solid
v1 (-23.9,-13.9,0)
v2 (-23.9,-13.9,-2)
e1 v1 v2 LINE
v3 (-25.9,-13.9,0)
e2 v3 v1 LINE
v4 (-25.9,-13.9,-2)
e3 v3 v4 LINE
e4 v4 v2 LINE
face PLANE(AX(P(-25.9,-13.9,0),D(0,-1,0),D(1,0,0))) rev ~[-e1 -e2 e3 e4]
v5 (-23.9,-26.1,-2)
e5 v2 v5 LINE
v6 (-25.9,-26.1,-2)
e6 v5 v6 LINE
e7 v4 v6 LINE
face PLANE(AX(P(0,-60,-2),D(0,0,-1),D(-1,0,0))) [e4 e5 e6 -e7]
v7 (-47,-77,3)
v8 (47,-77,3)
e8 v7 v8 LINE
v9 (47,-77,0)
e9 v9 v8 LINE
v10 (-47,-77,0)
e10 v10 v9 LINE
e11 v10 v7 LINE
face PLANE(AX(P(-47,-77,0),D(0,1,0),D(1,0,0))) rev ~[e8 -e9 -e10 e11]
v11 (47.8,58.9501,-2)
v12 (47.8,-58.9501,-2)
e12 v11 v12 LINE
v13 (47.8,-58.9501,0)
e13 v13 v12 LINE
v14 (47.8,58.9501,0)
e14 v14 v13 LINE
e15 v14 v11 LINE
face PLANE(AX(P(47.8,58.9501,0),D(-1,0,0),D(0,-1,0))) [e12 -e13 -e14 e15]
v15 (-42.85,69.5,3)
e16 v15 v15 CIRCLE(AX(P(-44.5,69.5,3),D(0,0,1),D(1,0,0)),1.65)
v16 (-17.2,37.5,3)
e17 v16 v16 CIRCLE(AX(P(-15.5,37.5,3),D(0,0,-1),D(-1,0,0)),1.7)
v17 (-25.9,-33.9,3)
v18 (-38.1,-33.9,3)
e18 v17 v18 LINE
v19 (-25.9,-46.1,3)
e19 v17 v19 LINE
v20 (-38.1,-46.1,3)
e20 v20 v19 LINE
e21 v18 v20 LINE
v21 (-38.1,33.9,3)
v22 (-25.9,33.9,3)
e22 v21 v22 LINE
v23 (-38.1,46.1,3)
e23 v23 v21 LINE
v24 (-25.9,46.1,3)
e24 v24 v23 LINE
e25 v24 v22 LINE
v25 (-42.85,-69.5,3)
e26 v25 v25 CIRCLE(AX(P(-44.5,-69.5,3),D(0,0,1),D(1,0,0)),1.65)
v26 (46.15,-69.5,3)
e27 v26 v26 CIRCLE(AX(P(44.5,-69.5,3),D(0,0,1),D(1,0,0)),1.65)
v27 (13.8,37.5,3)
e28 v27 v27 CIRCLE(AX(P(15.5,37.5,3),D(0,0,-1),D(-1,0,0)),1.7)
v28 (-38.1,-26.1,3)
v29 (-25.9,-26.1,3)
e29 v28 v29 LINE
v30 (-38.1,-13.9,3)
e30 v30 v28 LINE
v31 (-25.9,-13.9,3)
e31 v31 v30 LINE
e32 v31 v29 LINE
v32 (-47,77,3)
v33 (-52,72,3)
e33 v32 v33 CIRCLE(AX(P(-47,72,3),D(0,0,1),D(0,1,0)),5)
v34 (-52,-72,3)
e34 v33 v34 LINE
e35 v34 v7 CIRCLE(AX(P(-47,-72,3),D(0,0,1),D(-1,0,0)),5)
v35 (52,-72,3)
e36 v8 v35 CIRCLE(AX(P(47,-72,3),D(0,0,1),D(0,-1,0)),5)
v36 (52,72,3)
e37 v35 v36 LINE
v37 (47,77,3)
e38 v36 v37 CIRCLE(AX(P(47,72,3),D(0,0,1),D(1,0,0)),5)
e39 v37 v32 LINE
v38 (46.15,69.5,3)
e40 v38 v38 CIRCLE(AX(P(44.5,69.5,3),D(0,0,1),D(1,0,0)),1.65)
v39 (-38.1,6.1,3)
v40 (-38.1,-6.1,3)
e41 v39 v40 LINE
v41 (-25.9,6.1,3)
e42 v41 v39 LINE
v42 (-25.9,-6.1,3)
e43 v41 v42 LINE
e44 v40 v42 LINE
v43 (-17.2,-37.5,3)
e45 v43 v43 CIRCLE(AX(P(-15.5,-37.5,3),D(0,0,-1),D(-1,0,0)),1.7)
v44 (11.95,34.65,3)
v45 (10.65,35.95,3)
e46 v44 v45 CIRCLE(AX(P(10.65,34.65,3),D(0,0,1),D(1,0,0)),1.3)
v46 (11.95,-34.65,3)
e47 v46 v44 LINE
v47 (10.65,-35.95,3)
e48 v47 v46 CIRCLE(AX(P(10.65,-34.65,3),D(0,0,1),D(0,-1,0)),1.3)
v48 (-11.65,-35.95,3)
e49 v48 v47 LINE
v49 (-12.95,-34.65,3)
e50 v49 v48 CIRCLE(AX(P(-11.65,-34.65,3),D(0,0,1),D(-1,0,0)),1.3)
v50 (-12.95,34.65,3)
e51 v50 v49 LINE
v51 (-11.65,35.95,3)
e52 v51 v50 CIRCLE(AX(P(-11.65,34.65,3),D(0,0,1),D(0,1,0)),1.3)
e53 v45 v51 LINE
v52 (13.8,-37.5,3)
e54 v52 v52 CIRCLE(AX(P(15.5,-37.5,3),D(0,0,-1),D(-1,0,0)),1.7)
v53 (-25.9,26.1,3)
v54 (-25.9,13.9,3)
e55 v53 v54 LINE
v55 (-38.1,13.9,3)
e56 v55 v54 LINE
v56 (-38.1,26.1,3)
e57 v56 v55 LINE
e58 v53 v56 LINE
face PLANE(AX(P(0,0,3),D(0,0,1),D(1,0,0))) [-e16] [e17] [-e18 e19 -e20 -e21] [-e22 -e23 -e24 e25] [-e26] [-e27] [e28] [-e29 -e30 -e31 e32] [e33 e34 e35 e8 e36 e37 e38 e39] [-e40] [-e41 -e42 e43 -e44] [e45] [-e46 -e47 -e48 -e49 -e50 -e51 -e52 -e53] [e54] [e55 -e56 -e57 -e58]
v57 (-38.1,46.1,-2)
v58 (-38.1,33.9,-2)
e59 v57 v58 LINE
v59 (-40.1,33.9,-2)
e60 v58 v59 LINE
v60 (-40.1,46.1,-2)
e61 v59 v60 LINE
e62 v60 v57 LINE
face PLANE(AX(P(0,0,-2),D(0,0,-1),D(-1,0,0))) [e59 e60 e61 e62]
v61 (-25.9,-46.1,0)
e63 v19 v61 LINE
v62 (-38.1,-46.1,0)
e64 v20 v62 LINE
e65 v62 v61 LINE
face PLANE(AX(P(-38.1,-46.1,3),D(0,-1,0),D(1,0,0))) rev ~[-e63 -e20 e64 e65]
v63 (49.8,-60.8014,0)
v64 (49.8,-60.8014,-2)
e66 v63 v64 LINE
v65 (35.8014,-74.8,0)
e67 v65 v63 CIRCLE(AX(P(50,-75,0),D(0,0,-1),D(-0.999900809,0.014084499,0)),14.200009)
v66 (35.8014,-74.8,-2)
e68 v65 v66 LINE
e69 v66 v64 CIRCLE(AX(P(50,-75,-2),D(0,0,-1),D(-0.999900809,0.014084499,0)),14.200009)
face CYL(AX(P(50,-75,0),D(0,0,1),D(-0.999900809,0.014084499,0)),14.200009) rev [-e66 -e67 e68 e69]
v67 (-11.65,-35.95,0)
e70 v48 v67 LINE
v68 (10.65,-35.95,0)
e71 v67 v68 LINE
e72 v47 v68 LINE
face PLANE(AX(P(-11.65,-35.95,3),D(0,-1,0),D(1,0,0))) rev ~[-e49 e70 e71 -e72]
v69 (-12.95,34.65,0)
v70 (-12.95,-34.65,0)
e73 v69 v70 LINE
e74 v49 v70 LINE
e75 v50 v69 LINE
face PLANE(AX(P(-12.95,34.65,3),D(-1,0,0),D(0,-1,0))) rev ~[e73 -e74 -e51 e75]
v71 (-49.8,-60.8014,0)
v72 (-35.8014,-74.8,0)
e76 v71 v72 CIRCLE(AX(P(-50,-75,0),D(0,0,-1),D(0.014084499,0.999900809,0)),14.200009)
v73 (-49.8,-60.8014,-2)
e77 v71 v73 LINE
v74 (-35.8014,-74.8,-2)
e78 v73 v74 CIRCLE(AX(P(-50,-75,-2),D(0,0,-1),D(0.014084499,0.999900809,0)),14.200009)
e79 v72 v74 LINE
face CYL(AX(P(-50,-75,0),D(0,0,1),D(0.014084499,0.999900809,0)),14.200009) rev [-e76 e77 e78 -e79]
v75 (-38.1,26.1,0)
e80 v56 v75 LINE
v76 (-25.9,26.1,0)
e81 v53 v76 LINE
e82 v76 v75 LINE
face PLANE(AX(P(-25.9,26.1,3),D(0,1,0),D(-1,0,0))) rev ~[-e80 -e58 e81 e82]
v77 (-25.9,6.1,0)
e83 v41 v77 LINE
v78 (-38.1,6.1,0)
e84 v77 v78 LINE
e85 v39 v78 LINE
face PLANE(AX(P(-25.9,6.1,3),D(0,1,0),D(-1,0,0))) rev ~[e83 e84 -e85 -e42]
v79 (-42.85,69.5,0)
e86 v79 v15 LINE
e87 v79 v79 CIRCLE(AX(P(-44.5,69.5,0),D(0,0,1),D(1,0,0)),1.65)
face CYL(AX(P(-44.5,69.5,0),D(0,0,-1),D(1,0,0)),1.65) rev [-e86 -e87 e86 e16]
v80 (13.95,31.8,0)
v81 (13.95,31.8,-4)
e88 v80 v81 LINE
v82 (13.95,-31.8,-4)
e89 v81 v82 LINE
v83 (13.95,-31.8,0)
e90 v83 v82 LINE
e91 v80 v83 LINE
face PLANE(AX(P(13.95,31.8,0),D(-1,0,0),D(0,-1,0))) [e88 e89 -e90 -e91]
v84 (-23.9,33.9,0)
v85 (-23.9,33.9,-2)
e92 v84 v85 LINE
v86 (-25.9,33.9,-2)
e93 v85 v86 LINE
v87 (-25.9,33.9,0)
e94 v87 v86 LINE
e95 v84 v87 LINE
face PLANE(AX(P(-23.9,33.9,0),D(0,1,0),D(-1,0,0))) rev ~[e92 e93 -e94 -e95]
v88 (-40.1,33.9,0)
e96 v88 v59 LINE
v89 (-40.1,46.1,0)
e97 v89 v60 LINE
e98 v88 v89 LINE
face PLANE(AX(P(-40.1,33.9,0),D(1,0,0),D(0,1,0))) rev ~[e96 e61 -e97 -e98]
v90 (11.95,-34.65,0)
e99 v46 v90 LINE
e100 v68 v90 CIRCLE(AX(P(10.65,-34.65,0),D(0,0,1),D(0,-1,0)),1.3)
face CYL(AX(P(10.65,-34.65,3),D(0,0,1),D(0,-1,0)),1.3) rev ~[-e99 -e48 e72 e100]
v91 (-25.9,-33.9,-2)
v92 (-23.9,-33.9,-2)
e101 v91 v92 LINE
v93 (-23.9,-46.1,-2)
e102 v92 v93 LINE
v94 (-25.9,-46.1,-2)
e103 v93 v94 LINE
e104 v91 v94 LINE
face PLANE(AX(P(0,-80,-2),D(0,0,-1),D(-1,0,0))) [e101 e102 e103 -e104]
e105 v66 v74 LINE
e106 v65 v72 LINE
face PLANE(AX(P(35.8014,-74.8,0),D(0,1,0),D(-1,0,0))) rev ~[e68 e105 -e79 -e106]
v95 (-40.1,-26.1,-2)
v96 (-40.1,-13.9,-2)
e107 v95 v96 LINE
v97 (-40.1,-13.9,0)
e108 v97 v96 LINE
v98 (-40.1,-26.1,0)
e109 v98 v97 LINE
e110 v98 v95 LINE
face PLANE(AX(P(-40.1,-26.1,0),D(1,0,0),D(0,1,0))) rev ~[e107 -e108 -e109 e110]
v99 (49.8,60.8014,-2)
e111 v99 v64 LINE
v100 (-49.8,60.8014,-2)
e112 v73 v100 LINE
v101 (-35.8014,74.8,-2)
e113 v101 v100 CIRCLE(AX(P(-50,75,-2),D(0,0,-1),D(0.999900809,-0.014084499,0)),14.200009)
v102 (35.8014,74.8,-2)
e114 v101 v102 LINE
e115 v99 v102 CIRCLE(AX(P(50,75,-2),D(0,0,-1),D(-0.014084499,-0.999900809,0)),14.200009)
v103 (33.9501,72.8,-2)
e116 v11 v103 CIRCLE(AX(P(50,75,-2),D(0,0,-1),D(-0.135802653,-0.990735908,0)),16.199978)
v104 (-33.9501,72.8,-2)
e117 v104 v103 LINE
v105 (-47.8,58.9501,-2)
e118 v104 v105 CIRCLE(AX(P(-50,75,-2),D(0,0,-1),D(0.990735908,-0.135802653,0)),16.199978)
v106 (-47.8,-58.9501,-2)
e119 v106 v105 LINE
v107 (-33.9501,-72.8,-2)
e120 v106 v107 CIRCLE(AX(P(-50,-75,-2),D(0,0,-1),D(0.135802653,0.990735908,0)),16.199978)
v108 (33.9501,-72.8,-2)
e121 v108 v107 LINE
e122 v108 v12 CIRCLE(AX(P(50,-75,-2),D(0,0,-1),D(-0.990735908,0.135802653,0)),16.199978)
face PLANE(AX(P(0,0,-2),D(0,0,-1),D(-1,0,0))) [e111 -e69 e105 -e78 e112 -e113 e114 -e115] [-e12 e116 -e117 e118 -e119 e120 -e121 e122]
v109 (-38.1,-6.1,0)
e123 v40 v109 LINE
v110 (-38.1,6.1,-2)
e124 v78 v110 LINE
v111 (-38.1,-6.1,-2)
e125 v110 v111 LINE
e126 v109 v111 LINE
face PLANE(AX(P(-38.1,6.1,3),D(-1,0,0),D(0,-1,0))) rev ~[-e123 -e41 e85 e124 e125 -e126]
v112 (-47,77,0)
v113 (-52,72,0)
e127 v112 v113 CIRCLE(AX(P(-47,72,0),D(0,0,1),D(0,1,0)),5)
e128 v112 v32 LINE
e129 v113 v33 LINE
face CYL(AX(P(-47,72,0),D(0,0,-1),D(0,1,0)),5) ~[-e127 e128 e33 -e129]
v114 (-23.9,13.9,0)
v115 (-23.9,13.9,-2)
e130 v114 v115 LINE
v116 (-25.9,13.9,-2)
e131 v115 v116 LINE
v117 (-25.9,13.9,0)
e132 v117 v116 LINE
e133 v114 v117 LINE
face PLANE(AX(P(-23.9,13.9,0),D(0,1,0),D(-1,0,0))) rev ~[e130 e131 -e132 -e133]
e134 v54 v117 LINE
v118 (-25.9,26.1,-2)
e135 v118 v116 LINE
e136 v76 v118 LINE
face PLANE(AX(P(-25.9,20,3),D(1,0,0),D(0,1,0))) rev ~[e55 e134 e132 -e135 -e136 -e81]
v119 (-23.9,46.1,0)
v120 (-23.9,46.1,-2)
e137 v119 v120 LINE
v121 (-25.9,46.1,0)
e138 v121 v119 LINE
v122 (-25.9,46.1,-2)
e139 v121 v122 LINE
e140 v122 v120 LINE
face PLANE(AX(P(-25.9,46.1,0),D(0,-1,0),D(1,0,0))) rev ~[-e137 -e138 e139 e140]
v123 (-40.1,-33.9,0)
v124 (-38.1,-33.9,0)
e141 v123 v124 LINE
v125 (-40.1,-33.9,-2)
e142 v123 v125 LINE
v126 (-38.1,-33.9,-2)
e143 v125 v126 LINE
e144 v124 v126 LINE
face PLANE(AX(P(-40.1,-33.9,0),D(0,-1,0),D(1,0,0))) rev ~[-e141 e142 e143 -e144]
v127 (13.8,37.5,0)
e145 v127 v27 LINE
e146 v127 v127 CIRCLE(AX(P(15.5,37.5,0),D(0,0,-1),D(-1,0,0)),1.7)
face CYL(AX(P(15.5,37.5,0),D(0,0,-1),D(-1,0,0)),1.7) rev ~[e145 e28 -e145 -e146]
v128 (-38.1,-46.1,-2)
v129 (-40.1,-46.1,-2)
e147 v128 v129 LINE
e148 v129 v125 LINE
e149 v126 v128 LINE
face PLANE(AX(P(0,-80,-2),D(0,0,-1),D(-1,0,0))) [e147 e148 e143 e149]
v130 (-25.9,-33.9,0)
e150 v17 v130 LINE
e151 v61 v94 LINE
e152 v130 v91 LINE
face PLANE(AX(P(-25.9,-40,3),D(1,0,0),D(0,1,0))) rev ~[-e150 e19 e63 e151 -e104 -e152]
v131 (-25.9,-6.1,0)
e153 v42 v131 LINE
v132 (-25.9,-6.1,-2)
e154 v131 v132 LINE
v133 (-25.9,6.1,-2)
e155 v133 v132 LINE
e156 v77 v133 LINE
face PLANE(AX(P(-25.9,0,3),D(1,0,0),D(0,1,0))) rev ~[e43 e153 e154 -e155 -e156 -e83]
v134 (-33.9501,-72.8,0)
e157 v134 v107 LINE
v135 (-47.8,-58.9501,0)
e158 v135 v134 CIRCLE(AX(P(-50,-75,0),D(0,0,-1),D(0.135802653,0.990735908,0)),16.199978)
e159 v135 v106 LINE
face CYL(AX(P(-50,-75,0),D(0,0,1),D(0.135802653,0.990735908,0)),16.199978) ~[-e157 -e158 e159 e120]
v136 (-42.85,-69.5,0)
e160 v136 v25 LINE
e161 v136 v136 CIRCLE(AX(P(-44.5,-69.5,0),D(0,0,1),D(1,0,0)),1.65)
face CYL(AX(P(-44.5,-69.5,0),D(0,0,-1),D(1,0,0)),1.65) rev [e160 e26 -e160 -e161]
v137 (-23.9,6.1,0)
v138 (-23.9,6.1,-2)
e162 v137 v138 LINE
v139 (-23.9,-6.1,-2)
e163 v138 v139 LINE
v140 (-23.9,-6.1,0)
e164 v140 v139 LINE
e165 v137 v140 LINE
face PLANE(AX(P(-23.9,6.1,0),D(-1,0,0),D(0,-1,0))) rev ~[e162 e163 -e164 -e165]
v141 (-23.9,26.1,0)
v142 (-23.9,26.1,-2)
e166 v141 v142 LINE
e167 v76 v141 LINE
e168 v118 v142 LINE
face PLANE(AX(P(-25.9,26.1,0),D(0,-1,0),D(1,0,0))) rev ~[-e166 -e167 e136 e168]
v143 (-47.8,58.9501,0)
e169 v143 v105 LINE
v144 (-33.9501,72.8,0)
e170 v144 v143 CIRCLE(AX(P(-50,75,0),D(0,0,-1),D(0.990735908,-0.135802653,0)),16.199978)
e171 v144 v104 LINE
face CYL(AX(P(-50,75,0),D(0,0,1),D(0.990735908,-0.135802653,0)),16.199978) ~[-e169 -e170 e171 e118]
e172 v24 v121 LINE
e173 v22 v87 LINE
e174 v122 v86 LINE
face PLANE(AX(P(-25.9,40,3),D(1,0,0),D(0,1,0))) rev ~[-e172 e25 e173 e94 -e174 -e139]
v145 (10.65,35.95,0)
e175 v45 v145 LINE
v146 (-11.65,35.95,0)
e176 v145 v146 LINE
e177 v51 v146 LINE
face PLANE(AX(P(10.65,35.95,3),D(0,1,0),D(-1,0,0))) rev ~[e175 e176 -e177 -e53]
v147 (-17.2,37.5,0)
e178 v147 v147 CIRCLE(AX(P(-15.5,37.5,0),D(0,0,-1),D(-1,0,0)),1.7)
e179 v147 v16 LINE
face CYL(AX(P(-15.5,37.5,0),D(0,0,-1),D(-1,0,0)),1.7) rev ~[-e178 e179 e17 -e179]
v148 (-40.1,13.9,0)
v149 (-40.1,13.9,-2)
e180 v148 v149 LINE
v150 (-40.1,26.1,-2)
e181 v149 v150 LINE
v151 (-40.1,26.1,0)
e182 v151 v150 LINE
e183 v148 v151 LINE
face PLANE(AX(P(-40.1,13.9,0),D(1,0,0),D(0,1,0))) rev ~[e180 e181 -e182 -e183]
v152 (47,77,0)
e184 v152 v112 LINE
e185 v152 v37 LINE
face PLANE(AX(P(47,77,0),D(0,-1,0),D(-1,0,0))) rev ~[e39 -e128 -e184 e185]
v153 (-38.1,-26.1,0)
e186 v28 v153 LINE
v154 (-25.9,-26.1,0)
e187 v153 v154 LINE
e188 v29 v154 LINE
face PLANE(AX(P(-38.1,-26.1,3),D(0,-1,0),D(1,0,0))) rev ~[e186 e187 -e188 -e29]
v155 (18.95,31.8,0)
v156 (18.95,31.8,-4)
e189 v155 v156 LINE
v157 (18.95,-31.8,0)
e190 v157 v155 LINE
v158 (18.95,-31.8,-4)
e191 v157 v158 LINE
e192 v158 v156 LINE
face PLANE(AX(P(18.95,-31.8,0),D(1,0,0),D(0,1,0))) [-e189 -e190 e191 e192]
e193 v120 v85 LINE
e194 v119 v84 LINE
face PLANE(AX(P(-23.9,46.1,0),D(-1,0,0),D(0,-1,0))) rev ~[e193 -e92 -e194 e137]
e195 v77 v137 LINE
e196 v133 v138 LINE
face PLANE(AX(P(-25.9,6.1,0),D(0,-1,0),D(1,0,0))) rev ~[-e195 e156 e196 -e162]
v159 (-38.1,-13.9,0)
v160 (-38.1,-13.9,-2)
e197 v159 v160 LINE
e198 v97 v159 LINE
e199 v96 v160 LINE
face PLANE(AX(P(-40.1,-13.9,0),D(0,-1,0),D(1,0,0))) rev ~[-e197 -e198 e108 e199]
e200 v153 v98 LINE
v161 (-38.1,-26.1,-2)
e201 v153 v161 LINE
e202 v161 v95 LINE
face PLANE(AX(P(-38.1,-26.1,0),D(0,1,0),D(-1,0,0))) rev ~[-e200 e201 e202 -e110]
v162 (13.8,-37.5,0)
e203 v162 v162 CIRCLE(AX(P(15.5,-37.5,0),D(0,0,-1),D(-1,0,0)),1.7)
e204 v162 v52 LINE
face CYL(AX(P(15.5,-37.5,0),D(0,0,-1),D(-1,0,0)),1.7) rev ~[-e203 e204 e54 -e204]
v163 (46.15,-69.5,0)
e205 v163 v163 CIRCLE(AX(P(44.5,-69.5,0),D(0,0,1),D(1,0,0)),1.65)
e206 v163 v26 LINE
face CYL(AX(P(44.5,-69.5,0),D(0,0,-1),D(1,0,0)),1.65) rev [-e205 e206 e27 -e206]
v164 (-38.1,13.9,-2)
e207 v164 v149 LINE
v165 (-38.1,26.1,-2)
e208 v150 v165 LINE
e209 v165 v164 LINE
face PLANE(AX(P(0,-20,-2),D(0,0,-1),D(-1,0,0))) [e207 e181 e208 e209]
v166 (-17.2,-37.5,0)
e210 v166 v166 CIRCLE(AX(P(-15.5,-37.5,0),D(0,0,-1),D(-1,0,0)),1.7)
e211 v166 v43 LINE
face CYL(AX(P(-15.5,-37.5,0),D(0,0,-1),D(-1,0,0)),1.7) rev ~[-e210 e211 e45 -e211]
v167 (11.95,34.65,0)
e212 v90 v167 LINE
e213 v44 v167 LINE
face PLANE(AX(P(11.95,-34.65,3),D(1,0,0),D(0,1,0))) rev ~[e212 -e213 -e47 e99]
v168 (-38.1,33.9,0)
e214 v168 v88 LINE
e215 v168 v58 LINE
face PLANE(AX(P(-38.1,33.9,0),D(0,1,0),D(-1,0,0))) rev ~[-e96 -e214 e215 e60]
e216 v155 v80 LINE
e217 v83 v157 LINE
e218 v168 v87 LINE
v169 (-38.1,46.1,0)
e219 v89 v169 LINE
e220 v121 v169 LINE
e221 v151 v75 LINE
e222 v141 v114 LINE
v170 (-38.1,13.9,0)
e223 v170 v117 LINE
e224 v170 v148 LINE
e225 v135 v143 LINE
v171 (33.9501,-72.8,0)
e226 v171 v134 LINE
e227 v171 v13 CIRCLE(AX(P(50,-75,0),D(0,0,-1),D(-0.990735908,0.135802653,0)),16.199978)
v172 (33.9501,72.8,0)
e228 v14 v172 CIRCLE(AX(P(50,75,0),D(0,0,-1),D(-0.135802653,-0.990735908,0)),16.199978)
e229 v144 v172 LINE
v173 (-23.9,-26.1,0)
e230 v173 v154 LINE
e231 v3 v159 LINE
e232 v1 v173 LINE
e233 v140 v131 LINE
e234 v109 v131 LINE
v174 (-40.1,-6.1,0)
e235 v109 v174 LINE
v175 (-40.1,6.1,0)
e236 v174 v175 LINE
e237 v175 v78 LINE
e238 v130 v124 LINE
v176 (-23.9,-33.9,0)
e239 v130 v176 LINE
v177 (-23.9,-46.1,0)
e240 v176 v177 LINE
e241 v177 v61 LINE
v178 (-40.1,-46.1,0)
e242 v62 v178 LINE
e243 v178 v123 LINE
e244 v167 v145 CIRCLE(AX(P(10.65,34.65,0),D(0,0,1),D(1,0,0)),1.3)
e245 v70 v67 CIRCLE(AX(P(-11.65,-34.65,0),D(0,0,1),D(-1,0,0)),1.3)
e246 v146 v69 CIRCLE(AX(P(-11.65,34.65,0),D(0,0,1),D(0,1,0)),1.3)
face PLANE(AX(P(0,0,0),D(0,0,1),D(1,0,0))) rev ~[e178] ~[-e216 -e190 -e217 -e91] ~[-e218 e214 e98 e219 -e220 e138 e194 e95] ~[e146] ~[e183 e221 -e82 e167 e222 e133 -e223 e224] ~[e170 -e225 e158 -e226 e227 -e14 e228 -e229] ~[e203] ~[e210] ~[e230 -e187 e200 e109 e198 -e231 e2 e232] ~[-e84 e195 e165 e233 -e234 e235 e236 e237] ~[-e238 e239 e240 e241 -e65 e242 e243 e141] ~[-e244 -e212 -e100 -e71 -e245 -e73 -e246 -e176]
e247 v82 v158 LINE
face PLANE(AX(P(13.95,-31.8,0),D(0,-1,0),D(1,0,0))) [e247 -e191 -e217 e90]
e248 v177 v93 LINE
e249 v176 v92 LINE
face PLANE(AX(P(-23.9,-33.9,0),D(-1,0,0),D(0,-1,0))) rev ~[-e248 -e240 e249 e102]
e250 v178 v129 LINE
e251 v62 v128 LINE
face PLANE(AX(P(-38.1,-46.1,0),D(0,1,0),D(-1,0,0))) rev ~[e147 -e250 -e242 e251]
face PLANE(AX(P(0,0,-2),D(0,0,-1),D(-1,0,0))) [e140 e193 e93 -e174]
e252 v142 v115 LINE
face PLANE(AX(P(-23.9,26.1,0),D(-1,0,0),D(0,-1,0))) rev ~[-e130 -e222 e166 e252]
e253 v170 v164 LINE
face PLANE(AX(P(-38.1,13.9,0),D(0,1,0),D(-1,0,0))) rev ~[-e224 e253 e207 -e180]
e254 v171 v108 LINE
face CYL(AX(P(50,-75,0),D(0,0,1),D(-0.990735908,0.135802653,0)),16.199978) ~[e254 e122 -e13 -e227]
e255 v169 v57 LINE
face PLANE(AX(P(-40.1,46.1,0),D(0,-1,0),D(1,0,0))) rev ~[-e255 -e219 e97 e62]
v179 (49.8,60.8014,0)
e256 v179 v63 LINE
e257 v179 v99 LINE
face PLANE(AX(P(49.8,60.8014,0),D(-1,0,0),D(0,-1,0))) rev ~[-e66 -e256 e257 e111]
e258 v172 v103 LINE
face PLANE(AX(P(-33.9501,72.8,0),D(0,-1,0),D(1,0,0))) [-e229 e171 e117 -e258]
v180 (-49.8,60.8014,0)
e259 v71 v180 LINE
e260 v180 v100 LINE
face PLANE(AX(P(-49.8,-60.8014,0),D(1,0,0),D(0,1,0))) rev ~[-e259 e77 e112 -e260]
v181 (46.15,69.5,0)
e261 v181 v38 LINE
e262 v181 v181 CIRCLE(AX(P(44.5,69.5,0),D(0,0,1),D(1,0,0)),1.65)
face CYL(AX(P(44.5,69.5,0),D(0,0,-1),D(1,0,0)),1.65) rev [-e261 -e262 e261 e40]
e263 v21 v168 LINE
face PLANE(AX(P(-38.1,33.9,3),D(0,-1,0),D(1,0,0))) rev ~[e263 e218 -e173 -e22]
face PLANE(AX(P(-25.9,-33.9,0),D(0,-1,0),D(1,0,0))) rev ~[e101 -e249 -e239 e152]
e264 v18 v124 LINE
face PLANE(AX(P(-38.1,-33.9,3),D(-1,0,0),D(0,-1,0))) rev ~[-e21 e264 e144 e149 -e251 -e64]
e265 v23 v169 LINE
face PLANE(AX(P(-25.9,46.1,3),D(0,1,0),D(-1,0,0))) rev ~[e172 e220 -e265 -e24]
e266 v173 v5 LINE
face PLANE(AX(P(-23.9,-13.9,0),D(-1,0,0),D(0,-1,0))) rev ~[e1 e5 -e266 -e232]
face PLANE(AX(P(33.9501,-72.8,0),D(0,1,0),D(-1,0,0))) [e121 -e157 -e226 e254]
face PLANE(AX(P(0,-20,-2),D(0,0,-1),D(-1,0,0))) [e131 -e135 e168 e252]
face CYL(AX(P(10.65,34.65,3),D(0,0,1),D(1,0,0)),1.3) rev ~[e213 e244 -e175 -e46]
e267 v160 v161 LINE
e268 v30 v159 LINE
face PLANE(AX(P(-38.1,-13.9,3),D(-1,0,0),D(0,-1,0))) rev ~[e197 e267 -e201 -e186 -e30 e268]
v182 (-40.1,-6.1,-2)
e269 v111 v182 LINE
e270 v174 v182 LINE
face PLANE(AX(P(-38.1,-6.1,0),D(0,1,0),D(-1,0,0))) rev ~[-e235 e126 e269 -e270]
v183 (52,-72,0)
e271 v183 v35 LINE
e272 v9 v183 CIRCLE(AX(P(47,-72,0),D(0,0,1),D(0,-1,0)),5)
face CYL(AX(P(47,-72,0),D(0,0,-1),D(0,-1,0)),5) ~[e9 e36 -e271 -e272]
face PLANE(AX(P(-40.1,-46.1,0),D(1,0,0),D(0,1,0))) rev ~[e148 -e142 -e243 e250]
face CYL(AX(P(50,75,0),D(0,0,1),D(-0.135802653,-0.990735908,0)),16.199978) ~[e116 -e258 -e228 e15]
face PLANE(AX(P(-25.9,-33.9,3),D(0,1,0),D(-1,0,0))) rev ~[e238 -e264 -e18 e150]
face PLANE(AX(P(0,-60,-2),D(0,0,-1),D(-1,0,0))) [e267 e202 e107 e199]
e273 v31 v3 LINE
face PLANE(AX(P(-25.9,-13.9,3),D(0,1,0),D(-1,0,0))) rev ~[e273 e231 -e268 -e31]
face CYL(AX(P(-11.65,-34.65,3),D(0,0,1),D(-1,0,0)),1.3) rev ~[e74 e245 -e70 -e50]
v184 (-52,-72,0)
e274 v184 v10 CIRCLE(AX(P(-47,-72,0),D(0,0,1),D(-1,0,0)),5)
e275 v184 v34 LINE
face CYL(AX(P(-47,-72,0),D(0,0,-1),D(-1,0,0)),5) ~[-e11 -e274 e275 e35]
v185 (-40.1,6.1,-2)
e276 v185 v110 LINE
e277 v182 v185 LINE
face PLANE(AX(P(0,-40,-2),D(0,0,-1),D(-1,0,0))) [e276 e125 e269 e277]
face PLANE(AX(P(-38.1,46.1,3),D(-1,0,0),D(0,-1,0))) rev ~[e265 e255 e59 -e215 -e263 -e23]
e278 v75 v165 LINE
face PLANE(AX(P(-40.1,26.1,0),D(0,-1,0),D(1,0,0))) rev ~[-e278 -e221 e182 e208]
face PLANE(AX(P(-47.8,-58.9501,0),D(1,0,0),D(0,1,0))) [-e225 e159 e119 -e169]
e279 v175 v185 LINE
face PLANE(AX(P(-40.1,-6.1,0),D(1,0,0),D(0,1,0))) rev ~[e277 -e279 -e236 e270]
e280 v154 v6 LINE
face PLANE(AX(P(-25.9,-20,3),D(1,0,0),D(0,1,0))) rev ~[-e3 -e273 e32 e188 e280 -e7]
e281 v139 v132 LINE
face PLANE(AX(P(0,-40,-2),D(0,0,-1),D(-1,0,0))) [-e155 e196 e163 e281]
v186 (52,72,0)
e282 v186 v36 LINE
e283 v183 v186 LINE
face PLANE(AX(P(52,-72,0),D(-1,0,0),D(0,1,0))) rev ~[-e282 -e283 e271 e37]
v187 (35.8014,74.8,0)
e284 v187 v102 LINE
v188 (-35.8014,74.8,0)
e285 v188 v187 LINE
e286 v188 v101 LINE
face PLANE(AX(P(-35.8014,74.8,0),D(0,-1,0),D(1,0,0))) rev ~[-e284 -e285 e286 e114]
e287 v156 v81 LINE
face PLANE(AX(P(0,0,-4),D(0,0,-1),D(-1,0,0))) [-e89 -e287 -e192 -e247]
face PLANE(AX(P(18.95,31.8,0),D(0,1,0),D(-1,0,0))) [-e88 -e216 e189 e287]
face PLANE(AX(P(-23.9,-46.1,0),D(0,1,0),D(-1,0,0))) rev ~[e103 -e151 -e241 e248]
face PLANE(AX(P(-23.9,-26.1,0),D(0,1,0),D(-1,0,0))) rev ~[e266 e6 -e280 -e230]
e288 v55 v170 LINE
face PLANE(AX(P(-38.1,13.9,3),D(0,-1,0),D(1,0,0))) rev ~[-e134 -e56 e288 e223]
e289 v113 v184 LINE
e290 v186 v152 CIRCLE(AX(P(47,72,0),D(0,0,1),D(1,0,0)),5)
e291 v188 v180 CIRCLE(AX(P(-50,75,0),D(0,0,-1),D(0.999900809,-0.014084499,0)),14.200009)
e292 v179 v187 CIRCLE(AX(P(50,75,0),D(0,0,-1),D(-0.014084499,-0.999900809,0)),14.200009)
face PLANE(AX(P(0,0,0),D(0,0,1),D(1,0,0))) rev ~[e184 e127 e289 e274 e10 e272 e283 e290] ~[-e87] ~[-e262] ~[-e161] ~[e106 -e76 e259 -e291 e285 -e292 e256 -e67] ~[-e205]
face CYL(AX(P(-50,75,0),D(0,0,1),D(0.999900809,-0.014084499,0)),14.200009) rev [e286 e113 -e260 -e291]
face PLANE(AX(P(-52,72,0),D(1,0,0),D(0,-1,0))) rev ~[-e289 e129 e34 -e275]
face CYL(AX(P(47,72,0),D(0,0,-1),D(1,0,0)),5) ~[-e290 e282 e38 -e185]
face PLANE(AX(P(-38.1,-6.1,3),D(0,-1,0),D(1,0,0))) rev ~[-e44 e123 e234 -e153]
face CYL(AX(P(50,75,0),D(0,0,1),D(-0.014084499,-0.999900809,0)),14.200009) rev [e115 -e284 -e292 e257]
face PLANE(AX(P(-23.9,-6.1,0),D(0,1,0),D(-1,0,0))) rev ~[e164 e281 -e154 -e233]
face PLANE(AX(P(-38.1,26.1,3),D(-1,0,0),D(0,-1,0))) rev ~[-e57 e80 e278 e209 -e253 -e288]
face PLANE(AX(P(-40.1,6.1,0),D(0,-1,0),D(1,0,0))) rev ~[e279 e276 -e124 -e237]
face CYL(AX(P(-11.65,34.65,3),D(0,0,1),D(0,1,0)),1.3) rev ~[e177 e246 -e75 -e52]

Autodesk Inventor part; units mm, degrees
ref_plane "YZ Plane" through (0, 0, 0) normal (1, 0, 0) x (0, 1, 0)
ref_plane "XZ Plane" through (0, 0, 0) normal (0, 1, 0) x (-1, 0, 0)
ref_plane "XY Plane" through (0, 0, 0) normal (0, 0, 1) x (1, 0, 0)
sketch "Sketch2" plane through (0, 0, 0) normal (0, 0, 1) x (1, 0, 0)
  arc A0 (-52, -72) -> (-47, -77) centre (-47, -72) ccw projected
  line L0 (-52, 72) -> (-52, -72) projected
  arc A1 (-47, 77) -> (-52, 72) centre (-47, 72) ccw projected
  line L1 (47, 77) -> (-47, 77) projected
  arc A2 (52, 72) -> (47, 77) centre (47, 72) ccw projected
  line L2 (52, -72) -> (52, 72) projected
  arc A3 (47, -77) -> (52, -72) centre (47, -72) ccw projected
  line L3 (-47, -77) -> (47, -77) projected
  circle A4 centre (44.5, -69.5) radius 1.65 projected
  circle A5 centre (-44.5, -69.5) radius 1.65 projected
  circle A6 centre (-44.5, 69.5) radius 1.65 projected
  circle A7 centre (44.5, 69.5) radius 1.65 projected
  point P0 (0, 0)
extrude "Extrusion2" add sketch "Sketch2" along normal blind 3
sketch "Sketch3" plane through (0, 0, 0) normal (0, 0, -1) x (-1, 0, 0)
  arc A0 (-50, 61) -> (-36, 75) centre (-50, 75) ccw projected
  line L0 (36, 75) -> (-36, 75) projected
  arc A1 (36, 75) -> (50, 61) centre (50, 75) ccw projected
  line L1 (50, -61) -> (50, 61) projected
  line L2 (-50, 61) -> (-50, -61) projected
  arc A2 (-36, -75) -> (-50, -61) centre (-50, -75) ccw projected
  line L3 (-36, -75) -> (36, -75) projected
  arc A3 (50, -61) -> (36, -75) centre (50, -75) ccw projected
  arc A4 (-49.8, 60.8014) -> (-35.8014, 74.8) centre (-50, 75) ccw
  line L4 (-49.8, 60.8014) -> (-49.8, -60.8014)
  arc A5 (-35.8014, -74.8) -> (-49.8, -60.8014) centre (-50, -75) ccw
  line L5 (-35.8014, -74.8) -> (35.8014, -74.8)
  arc A6 (49.8, -60.8014) -> (35.8014, -74.8) centre (50, -75) ccw
  line L6 (49.8, -60.8014) -> (49.8, 60.8014)
  arc A7 (35.8014, 74.8) -> (49.8, 60.8014) centre (50, 75) ccw
  line L7 (35.8014, 74.8) -> (-35.8014, 74.8)
  arc A8 (-47.8, 58.9501) -> (-33.9501, 72.8) centre (-50, 75) ccw
  line L8 (-47.8, 58.9501) -> (-47.8, -58.9501)
  arc A9 (-33.9501, -72.8) -> (-47.8, -58.9501) centre (-50, -75) ccw
  line L9 (-33.9501, -72.8) -> (33.9501, -72.8)
  arc A10 (47.8, -58.9501) -> (33.9501, -72.8) centre (50, -75) ccw
  line L10 (47.8, -58.9501) -> (47.8, 58.9501)
  arc A11 (33.9501, 72.8) -> (47.8, 58.9501) centre (50, 75) ccw
  line L11 (33.9501, 72.8) -> (-33.9501, 72.8)
  point P0 (0, 0)
  dimension "d4" = 0.2
  dimension "d5" = 2
extrude "Extrusion3" add sketch "Sketch3" along normal blind 2 contours A4 L7 A7 L6 A6 L5 A5 L4
sketch "Sketch4" plane through (0, 0, 3) normal (0, 0, 1) x (1, 0, 0)
  line L0 (11.65, 34.65) -> (11.65, -34.65) projected
  arc A0 (11.65, 34.65) -> (10.65, 35.65) centre (10.65, 34.65) ccw projected
  line L1 (-11.65, 35.65) -> (10.65, 35.65) projected
  arc A1 (-11.65, 35.65) -> (-12.65, 34.65) centre (-11.65, 34.65) ccw projected
  line L2 (-12.65, -34.65) -> (-12.65, 34.65) projected
  arc A2 (-12.65, -34.65) -> (-11.65, -35.65) centre (-11.65, -34.65) ccw projected
  line L3 (10.65, -35.65) -> (-11.65, -35.65) projected
  arc A3 (10.65, -35.65) -> (11.65, -34.65) centre (10.65, -34.65) ccw projected
  line L4 (11.95, -34.65) -> (11.95, 34.65)
  arc A4 (11.95, 34.65) -> (10.65, 35.95) centre (10.65, 34.65) ccw
  line L5 (10.65, 35.95) -> (-11.65, 35.95)
  arc A5 (-11.65, 35.95) -> (-12.95, 34.65) centre (-11.65, 34.65) ccw
  line L6 (-12.95, 34.65) -> (-12.95, -34.65)
  arc A6 (-12.95, -34.65) -> (-11.65, -35.95) centre (-11.65, -34.65) ccw
  line L7 (-11.65, -35.95) -> (10.65, -35.95)
  arc A7 (10.65, -35.95) -> (11.95, -34.65) centre (10.65, -34.65) ccw
  point P0 (0, 0)
  dimension "d10" = 0.3
extrude "Extrusion4" cut sketch "Sketch4" against normal up to surface (3 mm away) contours L0 A3 L3 A2 L2 A1 L1 A0 | A7 L7 A6 L6 A5 L5 A4 L4
sketch "Sketch5" plane through (0, 0, 0) normal (0, 0, -1) x (-1, 0, 0)
  circle A0 centre (15.5, 37.5) radius 1.5 projected
  circle A1 centre (-15.5, 37.5) radius 1.5 projected
  circle A2 centre (15.5, -37.5) radius 1.5 projected
  circle A3 centre (-15.5, -37.5) radius 1.5 projected
  circle A4 centre (15.5, -37.5) radius 1.7
  circle A5 centre (15.5, 37.5) radius 1.7
  circle A6 centre (-15.5, 37.5) radius 1.7
  circle A7 centre (-15.5, -37.5) radius 1.7
  point P0 (0, 0)
  dimension "d11" = 0.2
  dimension "d12" = 0.2
  dimension "d13" = 0.2
  dimension "d14" = 0.2
extrude "Extrusion5" cut sketch "Sketch5" against normal up to surface (3 mm away) contours A0 | A1 | A2 | A3 | A4 | A5 | A6 | A7
sketch "Sketch6" plane through (0, 0, 3) normal (0, 0, 1) x (1, 0, 0)
  line L0 (-25.9, 6.1) -> (-38.1, 6.1)
  line L1 (-38.1, 6.1) -> (-38.1, -6.1)
  line L2 (-38.1, -6.1) -> (-25.9, -6.1)
  line L3 (-25.9, -6.1) -> (-25.9, 6.1)
  line L4 (-25.9, 6.1) -> (-38.1, -6.1) construction
  line L5 (-38.1, 6.1) -> (-25.9, -6.1) construction
  line L6 (-52, 72) -> (-52, -72) projected
  line L7 (47, 77) -> (-47, 77) projected
  line L8 (52, -72) -> (52, 72) projected
  line L9 (52, 0) -> (-52, 0)
  point P0 (0, 0)
  point P1 (-32, 0)
  dimension "d17" = 12.2
  dimension "d18" = 12.2
  dimension "d19" = 20
extrude "Extrusion6" cut sketch "Sketch6" against normal up to surface (3 mm away)
pattern_linear "Rectangular Pattern1" count 3 spacing 20 along (0, -1, 0) count 3 spacing 20 along (0, 1, 0) of "Extrusion6"
sketch "Sketch9" plane through (0, 0, 0) normal (0, 0, -1) x (-1, 0, 0)
  line L0 (-13.95, -31.8) -> (-18.95, -31.8)
  line L1 (-18.95, -31.8) -> (-18.95, 31.8)
  line L2 (-18.95, 31.8) -> (-13.95, 31.8)
  line L3 (-13.95, 31.8) -> (-13.95, -31.8)
  circle A0 centre (-15.5, -37.5) radius 1.7 projected
  circle A1 centre (-15.5, 37.5) radius 1.7 projected
  line L4 (-11.95, -34.65) -> (-11.95, 34.65) projected
  point P0 (0, 0)
  dimension "d38" = 4
  dimension "d40" = 4
  dimension "d41" = 2
  dimension "d42" = 5
extrude "Extrusion9" add sketch "Sketch9" along normal blind 4 contours L0 L1 L2 L3
sketch "Sketch10" plane through (0, 0, 0) normal (0, 0, -1) x (-1, 0, 0)
  point P0 (0, 0)
sketch "Sketch11" plane through (0, 0, 0) normal (0, 0, -1) x (-1, 0, 0)
  line L0 (25.9, 33.9) -> (38.1, 33.9) projected
  line L1 (38.1, 33.9) -> (40.1, 33.9)
  line L2 (40.1, 33.9) -> (40.1, 46.1)
  line L3 (40.1, 46.1) -> (38.1, 46.1)
  line L4 (38.1, 46.1) -> (38.1, 33.9)
  line L5 (25.9, 46.1) -> (25.9, 33.9) projected
  line L6 (25.9, 46.1) -> (23.9, 46.1)
  line L7 (23.9, 46.1) -> (23.9, 33.9)
  line L8 (23.9, 33.9) -> (25.9, 33.9)
  line L9 (25.9, 33.9) -> (25.9, 46.1)
  point P0 (0, 0)
  dimension "d45" = 2
  dimension "d46" = 2
extrude "Extrusion10" add sketch "Sketch11" along normal up to surface (2 mm away)
pattern_linear "Rectangular Pattern3" count 5 spacing 20 along (0, -1, 0) of "Extrusion10"
equation "\"d46\" = d45"
properties part number "lid"
